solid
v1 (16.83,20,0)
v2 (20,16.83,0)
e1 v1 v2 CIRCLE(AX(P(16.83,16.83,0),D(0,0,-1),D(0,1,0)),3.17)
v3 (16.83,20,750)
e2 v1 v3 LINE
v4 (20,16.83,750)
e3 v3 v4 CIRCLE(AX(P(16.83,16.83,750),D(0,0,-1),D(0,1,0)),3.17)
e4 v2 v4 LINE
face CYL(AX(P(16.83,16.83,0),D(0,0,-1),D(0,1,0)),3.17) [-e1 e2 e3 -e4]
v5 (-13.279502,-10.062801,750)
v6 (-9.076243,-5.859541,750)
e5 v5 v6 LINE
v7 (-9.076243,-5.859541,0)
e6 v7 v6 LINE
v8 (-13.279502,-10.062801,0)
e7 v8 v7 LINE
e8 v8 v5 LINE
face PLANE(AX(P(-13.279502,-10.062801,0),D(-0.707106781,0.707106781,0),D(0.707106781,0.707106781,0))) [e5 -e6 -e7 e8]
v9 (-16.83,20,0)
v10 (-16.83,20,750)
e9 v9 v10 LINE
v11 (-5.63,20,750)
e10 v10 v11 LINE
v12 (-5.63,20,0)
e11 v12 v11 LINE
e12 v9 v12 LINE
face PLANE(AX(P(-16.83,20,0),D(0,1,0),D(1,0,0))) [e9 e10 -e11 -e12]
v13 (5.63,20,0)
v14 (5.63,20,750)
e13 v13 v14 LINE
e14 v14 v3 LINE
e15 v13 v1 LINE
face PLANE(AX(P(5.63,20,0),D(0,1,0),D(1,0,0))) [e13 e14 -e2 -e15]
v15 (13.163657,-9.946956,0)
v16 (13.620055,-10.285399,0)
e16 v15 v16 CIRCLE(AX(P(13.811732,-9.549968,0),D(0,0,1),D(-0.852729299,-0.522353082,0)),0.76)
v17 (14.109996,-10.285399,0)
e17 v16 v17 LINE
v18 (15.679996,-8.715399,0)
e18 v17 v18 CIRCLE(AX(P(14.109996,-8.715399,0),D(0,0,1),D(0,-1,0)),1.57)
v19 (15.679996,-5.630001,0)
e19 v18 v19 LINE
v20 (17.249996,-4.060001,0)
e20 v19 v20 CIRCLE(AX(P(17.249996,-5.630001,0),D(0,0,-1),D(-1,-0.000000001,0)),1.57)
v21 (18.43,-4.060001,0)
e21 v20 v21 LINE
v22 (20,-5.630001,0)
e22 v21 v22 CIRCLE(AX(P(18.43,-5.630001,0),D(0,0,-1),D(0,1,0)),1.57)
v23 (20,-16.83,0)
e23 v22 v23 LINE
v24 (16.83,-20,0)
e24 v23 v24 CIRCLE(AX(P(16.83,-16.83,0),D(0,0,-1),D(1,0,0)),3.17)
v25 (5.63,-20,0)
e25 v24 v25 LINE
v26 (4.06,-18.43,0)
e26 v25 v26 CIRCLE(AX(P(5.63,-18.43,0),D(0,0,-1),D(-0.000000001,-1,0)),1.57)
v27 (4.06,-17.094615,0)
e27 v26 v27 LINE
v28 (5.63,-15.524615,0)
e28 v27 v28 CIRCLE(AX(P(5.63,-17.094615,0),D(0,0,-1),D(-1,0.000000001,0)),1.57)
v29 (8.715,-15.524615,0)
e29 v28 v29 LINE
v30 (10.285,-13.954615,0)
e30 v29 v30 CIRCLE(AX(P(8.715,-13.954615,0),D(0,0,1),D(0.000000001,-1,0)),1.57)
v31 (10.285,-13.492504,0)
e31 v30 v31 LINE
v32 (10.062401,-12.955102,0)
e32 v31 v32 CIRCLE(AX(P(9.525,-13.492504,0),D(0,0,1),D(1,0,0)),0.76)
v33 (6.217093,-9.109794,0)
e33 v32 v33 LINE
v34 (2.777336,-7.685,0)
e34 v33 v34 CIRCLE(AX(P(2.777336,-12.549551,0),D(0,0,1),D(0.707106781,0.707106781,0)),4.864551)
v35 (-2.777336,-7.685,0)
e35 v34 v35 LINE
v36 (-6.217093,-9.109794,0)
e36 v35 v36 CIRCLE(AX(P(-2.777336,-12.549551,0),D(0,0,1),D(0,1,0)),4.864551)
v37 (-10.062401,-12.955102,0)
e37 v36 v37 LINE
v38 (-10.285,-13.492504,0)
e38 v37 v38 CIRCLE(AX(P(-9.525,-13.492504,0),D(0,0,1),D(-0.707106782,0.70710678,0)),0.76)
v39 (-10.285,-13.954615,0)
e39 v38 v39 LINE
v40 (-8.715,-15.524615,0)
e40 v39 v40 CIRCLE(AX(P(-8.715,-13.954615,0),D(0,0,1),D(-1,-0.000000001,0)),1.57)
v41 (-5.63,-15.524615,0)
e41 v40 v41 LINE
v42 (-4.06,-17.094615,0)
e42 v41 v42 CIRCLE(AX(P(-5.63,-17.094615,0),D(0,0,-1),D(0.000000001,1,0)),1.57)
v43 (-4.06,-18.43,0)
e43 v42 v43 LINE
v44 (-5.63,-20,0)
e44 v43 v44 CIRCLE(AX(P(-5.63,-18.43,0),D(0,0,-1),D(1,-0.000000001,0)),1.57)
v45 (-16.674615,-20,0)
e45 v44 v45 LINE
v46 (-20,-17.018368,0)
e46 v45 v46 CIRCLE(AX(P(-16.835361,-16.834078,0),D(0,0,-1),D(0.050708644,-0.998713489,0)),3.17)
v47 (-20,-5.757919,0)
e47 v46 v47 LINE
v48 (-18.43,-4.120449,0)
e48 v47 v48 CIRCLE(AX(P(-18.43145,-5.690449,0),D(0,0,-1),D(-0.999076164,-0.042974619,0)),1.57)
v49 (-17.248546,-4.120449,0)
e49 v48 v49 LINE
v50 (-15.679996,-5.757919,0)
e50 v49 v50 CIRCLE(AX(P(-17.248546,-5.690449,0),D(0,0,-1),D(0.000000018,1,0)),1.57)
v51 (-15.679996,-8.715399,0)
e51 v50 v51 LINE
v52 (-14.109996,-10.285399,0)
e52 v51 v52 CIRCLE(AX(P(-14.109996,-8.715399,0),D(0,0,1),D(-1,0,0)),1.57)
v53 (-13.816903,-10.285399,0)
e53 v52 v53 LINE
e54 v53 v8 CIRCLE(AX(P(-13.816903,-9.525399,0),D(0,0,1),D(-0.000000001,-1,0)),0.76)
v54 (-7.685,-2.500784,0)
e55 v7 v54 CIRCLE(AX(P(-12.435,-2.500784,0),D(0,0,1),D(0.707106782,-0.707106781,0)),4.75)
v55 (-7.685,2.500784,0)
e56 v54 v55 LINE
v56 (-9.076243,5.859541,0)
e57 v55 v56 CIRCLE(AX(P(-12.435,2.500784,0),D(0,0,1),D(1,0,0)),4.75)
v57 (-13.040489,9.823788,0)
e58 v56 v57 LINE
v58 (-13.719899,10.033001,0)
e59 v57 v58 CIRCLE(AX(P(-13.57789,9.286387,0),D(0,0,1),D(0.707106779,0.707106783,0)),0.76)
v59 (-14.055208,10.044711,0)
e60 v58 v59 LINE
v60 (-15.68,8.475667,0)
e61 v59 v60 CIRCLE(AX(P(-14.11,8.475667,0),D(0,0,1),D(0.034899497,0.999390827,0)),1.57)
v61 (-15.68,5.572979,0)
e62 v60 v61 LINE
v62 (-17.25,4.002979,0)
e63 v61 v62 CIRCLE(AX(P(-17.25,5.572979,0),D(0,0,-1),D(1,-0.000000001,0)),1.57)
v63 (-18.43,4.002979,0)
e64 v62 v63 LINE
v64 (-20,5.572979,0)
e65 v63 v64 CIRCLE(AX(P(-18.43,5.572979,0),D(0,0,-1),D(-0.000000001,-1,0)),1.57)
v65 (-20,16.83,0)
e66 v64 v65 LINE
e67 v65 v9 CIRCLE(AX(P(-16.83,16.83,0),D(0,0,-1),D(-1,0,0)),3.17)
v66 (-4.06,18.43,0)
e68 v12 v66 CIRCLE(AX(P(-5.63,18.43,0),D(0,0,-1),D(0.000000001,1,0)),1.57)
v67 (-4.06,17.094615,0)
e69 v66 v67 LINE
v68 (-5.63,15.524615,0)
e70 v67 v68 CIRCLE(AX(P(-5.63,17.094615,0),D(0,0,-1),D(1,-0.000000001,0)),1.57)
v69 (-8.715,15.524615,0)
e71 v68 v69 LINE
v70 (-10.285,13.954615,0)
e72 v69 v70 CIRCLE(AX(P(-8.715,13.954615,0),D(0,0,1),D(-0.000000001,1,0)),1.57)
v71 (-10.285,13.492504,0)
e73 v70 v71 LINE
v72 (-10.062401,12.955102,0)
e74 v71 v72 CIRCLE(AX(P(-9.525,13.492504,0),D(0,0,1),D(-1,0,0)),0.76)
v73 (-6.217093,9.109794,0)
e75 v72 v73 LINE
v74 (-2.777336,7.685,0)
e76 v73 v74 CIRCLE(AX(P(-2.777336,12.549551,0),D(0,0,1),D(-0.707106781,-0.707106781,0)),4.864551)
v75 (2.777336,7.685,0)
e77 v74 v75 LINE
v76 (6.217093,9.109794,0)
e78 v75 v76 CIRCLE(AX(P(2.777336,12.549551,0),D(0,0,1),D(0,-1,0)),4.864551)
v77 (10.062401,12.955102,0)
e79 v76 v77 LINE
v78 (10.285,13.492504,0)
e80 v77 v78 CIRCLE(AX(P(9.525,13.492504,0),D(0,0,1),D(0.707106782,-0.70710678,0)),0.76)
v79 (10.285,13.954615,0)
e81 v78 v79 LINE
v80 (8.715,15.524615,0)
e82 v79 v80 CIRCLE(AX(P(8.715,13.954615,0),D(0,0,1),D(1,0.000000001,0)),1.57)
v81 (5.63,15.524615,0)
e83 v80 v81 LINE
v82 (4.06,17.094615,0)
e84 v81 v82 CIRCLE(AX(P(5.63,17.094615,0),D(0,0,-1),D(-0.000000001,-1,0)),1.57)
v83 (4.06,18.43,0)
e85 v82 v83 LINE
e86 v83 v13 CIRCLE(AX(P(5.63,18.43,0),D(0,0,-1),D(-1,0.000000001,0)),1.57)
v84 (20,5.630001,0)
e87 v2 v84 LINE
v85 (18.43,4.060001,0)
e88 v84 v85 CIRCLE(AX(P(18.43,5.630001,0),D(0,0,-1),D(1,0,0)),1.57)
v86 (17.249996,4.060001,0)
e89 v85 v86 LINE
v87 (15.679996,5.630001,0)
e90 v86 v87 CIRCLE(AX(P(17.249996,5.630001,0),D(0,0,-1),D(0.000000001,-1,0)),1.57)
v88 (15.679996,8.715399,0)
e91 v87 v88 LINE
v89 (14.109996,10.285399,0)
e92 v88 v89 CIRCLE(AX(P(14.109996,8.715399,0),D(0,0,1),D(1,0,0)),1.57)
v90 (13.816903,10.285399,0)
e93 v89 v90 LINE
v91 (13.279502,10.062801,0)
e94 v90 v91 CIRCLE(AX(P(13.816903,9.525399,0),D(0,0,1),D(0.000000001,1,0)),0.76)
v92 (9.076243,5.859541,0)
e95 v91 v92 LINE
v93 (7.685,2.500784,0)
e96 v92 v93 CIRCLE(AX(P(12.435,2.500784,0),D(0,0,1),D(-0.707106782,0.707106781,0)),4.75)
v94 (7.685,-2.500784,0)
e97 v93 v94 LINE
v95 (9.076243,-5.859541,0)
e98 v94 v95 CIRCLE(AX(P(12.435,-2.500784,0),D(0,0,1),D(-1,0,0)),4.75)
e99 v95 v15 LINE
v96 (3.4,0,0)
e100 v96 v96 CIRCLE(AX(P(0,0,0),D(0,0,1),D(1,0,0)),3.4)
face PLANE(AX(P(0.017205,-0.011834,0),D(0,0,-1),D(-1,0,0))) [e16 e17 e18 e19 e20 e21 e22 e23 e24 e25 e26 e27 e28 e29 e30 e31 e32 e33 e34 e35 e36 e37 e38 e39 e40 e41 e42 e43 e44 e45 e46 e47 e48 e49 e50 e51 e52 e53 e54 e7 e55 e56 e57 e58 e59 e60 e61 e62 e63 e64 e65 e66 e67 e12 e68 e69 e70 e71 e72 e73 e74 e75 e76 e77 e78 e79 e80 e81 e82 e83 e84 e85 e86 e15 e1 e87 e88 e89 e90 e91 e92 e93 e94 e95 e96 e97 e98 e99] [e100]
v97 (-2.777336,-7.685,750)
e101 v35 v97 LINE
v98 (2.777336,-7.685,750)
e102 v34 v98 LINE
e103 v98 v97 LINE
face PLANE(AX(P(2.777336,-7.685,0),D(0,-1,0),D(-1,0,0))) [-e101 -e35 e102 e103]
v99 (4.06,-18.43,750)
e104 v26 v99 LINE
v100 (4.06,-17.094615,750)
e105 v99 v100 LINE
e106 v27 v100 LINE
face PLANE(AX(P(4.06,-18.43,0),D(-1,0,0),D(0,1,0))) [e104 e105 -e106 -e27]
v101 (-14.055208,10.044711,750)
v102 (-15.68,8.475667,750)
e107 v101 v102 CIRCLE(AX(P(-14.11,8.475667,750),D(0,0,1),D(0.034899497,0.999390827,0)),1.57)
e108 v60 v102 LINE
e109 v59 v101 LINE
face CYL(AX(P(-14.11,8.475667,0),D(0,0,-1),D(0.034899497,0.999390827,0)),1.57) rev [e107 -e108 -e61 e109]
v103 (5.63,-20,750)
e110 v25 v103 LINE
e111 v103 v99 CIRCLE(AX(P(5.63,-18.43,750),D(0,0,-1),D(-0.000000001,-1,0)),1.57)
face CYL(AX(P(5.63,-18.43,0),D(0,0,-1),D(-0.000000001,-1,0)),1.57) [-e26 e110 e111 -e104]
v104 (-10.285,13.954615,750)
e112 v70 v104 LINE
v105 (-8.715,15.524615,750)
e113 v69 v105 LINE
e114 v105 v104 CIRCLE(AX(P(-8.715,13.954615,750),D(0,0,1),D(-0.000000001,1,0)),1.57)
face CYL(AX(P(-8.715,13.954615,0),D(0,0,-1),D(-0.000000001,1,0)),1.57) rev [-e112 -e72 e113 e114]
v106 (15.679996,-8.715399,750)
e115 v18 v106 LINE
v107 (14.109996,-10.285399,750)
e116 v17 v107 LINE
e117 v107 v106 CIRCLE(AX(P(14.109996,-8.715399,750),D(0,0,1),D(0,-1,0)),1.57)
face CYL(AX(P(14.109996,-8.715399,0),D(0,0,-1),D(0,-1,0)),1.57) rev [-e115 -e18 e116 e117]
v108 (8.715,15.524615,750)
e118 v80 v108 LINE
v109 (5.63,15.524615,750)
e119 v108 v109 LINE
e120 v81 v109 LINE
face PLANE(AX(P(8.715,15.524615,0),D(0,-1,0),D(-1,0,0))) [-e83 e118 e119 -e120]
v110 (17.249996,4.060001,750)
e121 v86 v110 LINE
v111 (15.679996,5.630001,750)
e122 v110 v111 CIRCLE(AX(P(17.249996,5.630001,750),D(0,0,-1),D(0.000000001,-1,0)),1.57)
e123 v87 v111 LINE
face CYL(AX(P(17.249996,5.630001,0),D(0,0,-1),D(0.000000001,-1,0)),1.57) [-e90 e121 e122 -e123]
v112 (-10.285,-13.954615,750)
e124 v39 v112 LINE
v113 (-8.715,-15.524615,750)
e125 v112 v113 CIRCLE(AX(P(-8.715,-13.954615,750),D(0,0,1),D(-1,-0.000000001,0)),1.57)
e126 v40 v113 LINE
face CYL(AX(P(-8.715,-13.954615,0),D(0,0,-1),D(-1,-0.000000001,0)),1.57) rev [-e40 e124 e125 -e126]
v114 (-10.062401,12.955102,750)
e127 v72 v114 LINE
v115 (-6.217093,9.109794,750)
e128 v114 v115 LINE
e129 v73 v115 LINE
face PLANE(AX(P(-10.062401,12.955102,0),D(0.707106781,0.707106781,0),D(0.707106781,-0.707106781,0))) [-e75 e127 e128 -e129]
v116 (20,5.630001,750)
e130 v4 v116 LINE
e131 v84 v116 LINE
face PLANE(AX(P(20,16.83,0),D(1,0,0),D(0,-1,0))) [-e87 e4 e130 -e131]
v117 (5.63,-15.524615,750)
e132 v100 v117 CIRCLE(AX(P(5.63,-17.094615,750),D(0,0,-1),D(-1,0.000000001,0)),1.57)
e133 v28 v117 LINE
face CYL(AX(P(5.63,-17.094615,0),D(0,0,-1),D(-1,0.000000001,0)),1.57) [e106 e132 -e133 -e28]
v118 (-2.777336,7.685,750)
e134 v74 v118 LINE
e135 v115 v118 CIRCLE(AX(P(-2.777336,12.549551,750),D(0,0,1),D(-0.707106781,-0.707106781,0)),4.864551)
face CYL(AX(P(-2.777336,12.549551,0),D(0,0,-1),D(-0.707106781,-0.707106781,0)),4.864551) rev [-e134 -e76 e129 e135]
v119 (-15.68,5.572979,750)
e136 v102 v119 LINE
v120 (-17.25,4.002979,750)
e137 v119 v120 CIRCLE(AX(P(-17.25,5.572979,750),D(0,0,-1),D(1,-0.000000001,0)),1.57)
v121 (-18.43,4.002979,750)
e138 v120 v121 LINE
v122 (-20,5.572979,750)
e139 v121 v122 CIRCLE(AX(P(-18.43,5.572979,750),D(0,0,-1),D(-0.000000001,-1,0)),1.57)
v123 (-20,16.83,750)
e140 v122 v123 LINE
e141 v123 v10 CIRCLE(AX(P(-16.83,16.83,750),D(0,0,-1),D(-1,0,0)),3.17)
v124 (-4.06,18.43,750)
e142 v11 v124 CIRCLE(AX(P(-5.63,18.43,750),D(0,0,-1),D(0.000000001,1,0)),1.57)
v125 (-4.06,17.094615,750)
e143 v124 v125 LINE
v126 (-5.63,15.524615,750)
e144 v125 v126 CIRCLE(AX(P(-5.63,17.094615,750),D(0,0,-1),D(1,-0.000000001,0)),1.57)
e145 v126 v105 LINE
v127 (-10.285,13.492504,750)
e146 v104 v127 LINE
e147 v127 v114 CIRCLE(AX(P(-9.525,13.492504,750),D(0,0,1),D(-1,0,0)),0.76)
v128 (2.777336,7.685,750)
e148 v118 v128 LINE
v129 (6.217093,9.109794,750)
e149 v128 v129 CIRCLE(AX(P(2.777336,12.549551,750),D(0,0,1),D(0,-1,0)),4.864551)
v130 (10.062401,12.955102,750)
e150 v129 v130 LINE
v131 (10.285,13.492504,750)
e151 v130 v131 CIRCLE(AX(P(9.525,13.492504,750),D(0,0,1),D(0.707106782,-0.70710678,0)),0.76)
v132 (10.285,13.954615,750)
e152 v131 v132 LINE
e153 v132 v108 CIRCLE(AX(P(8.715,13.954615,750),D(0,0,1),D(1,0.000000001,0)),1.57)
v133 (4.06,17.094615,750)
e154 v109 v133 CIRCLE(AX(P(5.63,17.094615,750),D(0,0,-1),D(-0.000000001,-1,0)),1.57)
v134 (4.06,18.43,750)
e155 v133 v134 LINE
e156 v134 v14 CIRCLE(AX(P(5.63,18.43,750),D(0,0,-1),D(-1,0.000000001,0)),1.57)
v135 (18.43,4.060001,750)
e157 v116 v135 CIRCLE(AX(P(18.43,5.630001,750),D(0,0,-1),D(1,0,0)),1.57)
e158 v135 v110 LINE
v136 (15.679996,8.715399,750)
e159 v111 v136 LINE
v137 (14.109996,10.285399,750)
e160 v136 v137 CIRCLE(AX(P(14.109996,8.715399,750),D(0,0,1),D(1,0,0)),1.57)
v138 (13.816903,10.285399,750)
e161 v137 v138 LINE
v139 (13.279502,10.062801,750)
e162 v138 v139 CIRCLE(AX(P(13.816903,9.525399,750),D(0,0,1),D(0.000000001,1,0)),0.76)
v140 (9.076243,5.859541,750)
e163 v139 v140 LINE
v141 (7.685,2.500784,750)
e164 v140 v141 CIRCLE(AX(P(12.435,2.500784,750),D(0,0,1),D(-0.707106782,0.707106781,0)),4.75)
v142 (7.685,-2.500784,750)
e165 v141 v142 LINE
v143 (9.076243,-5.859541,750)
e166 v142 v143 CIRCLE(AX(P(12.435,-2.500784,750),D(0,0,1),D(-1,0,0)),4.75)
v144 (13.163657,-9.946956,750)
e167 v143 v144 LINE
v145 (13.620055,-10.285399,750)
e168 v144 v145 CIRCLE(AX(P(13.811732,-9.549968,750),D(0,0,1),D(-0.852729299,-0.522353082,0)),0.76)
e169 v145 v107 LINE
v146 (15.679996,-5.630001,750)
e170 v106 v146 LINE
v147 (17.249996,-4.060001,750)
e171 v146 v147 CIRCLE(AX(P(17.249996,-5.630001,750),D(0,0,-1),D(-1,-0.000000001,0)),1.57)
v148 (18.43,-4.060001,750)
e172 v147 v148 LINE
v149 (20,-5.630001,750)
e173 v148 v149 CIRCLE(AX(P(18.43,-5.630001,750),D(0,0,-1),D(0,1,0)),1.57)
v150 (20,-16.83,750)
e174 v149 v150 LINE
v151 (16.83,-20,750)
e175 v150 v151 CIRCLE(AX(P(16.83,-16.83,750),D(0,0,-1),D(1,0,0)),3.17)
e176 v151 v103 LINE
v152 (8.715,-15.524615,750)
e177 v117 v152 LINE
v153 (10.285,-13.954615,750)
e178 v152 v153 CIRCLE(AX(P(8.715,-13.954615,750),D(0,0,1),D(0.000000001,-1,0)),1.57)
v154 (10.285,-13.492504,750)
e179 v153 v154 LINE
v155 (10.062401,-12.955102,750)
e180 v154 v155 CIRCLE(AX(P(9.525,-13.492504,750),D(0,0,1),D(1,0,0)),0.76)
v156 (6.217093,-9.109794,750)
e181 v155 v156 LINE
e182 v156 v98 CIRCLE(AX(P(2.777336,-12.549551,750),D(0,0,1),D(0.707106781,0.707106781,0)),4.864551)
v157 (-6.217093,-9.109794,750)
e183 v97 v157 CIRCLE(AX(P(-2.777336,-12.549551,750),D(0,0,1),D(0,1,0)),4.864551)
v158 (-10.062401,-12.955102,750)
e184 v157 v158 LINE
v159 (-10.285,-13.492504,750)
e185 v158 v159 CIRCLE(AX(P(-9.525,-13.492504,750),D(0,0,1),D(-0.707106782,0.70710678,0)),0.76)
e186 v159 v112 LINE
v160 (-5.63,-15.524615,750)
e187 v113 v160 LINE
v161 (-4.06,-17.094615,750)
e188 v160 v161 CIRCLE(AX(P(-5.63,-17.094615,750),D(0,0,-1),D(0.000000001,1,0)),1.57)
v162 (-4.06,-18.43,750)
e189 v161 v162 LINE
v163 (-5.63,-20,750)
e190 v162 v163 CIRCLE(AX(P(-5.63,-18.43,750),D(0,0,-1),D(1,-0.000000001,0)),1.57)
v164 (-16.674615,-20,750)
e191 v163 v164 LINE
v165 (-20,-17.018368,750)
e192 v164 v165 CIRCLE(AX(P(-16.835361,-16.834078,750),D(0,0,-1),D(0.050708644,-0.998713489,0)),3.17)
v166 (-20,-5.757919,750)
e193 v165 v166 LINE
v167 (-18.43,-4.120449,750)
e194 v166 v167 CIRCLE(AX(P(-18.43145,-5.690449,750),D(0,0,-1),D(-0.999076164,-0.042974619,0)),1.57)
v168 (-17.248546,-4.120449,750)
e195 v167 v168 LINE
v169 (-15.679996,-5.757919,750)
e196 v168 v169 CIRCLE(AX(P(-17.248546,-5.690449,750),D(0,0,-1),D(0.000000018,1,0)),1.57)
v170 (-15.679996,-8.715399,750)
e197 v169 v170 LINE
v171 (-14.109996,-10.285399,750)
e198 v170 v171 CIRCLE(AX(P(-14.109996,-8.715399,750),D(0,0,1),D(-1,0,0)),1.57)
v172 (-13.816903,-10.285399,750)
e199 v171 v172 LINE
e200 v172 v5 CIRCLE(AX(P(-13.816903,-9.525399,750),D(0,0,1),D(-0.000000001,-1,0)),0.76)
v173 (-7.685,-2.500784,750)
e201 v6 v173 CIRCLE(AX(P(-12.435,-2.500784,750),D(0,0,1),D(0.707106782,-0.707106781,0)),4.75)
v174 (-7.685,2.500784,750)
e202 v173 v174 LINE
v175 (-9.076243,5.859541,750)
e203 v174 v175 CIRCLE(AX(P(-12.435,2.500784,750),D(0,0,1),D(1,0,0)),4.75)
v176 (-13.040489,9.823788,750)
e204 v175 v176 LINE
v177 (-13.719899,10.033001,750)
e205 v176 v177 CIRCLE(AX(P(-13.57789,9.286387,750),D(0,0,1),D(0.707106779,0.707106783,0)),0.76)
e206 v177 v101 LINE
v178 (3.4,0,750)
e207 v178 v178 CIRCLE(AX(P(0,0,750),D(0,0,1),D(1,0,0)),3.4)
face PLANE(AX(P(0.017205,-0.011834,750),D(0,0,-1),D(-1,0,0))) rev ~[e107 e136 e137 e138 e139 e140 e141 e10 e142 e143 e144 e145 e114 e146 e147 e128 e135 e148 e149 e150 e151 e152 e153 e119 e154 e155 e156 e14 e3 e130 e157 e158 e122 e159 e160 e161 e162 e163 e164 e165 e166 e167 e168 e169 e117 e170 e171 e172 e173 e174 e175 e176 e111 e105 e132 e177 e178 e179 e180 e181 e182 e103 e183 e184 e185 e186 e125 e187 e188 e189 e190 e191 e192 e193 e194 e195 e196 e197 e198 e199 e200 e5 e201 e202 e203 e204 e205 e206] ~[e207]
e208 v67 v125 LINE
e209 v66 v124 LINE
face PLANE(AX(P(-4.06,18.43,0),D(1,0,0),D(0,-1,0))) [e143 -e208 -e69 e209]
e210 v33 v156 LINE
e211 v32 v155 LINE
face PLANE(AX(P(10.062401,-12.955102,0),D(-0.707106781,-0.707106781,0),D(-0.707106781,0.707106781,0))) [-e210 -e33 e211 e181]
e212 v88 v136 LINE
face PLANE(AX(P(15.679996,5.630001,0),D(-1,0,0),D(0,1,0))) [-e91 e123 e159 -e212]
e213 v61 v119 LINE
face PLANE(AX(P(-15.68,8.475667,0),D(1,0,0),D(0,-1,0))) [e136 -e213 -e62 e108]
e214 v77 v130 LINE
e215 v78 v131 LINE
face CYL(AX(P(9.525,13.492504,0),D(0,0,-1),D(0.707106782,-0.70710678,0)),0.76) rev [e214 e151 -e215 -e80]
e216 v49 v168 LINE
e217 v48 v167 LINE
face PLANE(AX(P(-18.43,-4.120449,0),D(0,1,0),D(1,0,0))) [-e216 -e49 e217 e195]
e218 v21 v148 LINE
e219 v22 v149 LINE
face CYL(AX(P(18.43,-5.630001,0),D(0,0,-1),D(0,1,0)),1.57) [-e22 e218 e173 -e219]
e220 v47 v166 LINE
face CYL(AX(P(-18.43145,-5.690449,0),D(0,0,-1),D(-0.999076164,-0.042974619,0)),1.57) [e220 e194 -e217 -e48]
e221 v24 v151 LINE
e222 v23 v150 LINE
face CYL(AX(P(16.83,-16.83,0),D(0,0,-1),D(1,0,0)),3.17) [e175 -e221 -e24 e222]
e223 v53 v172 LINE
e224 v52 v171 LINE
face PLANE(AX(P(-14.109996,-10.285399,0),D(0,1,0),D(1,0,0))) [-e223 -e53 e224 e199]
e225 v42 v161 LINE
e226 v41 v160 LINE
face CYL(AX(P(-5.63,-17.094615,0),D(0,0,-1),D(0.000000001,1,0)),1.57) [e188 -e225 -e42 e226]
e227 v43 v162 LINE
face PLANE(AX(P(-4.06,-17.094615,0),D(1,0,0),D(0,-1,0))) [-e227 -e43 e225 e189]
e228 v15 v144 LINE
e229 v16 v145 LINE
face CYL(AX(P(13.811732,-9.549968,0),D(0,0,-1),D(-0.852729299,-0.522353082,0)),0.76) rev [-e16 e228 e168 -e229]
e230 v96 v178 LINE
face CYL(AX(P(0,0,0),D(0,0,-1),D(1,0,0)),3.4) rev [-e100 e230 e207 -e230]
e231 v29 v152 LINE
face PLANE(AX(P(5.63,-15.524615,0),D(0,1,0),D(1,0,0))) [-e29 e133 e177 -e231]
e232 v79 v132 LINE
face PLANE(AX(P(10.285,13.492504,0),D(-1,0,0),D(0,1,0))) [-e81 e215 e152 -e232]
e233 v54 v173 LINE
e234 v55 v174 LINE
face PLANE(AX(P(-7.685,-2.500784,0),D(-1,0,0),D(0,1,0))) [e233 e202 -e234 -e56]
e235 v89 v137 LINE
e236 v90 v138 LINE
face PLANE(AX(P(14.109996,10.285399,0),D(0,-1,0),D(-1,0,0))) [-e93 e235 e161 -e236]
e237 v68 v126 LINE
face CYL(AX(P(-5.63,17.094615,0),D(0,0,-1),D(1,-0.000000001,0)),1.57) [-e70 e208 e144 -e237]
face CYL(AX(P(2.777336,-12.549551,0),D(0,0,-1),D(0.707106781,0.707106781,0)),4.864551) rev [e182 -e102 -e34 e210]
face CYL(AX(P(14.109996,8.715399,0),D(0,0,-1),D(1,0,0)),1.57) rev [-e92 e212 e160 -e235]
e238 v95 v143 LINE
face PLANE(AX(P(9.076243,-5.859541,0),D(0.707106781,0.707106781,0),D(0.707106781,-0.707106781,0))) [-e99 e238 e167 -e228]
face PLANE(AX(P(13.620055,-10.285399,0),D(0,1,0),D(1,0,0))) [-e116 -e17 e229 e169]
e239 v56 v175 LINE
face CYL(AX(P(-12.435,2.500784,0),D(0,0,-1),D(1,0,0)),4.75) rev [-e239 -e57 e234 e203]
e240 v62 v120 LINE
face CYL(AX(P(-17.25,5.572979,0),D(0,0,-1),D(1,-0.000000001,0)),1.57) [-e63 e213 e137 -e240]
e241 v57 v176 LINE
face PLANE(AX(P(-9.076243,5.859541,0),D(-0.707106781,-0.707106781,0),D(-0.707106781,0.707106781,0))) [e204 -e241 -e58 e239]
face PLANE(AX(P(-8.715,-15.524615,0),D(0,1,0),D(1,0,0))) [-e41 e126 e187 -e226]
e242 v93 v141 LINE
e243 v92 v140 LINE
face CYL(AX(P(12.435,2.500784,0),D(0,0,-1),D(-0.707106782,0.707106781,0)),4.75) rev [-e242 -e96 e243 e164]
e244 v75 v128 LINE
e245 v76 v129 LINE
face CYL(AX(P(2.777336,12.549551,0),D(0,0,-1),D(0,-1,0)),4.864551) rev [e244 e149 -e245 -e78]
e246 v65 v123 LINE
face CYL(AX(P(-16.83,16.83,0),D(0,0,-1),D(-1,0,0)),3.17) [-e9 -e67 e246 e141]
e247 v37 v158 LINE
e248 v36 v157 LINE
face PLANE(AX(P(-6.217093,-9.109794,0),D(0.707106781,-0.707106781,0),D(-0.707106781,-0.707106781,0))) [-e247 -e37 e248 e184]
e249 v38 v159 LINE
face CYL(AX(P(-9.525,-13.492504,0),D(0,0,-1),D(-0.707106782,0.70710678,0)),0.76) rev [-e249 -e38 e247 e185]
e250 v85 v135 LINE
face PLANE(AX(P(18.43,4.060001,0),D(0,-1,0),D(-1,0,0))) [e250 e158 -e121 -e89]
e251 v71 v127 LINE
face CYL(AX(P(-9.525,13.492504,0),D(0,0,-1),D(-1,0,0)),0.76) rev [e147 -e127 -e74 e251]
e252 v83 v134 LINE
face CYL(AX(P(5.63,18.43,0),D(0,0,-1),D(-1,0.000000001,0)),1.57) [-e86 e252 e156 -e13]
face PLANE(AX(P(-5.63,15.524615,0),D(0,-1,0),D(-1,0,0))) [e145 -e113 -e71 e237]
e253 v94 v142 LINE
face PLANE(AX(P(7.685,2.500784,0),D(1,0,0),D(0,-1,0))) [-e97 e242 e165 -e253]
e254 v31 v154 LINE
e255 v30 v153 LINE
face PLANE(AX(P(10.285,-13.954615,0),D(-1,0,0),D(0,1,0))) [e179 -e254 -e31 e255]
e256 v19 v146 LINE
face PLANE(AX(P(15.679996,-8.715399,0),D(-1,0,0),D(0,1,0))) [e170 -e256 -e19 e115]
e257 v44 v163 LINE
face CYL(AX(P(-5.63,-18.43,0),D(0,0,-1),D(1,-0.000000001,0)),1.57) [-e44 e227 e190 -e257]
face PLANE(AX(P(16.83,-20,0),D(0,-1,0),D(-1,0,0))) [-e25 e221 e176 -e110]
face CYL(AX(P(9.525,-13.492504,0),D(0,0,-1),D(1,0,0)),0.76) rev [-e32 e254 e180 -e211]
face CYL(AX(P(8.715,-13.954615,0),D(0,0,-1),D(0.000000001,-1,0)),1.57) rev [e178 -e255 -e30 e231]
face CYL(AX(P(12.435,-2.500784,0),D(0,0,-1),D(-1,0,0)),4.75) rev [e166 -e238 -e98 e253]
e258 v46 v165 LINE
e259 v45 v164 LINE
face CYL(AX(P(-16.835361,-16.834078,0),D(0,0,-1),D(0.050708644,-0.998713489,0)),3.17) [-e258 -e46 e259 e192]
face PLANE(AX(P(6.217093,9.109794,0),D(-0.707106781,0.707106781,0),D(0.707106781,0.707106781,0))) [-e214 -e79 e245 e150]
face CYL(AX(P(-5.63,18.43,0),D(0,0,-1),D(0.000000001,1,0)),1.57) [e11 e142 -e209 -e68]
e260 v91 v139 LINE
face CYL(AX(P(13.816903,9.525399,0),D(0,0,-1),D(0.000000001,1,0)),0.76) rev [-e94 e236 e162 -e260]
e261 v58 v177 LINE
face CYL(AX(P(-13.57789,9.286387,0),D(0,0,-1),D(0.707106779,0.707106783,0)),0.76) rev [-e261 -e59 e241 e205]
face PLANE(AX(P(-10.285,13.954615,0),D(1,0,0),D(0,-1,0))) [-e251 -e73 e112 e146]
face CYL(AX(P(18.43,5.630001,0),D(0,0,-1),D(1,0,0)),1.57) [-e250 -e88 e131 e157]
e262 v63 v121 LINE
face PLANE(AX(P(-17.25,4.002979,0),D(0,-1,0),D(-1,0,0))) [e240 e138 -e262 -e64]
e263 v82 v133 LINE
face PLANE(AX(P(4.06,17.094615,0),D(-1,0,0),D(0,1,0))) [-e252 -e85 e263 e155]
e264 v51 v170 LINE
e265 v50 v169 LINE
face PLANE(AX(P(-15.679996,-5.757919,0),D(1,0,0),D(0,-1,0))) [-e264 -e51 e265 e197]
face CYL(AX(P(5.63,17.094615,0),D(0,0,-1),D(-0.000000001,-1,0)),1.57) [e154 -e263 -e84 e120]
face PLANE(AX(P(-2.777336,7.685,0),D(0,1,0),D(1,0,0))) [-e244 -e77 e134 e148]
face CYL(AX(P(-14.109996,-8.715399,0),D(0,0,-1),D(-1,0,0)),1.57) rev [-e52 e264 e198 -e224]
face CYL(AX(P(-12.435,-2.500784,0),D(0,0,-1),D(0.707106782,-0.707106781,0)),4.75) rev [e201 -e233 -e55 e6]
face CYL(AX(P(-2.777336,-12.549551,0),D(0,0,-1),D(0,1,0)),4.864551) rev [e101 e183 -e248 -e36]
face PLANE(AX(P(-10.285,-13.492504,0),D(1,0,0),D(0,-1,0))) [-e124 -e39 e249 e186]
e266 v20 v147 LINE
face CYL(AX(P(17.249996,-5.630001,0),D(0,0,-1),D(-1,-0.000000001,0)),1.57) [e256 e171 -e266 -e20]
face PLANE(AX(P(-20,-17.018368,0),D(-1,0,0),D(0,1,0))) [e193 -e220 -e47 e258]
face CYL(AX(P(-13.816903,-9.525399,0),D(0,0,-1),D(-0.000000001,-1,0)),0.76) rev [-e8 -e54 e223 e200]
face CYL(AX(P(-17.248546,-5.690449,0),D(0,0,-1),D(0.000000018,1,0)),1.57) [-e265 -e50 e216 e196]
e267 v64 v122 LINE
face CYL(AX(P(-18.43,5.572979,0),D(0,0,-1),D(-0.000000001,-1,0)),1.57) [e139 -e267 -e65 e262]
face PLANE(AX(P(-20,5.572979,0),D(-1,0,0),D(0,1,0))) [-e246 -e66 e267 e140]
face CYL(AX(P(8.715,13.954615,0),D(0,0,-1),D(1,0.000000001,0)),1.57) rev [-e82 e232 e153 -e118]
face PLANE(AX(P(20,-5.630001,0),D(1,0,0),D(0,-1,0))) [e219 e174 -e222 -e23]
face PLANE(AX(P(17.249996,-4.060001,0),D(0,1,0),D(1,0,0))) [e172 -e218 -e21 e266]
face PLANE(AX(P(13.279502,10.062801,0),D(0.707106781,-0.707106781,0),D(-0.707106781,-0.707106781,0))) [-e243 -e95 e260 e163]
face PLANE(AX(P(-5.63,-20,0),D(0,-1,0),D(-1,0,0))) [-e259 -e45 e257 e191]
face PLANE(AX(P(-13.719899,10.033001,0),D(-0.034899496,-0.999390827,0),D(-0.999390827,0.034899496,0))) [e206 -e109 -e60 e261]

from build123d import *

# Parameters (mm, degrees)
SKETCH1_R           = 3.4
BOSS_EXTRUDE1_DEPTH = 750


with BuildPart() as part:
    # Sketch1 → Boss-Extrude1 (new body)
    with BuildSketch(Plane.XY):
        with BuildLine():
            Line((-8.715, -15.524615034), (-5.63, -15.524615034))
            ThreePointArc((-5.63, -15.524615034), (-4.519842354, -15.984457388), (-4.06, -17.094615034))
            Line((-4.06, -17.094615034), (-4.06, -18.43))
            ThreePointArc((-4.06, -18.43), (-4.519842354, -19.540157646), (-5.63, -20))
            Line((-5.63, -20), (-16.674615034, -20))
            ThreePointArc((-16.674615034, -20), (-18.951578385, -19.194274381), (-20, -17.018368134))
            Line((-20, -17.018368134), (-20, -5.757918808))
            ThreePointArc((-20, -5.757918808), (-19.564709668, -4.603883664), (-18.43, -4.120449326))
            Line((-18.43, -4.120449326), (-17.248545805, -4.120449326))
            ThreePointArc((-17.248545805, -4.120449326), (-16.114784845, -4.604407881), (-15.67999625, -5.757919334))
            Line((-15.67999625, -5.757919334), (-15.67999625, -8.715399492))
            ThreePointArc((-15.67999625, -8.715399492), (-15.220153896, -9.825557139), (-14.10999625, -10.285399492))
            Line((-14.10999625, -10.285399492), (-13.816903094, -10.285399492))
            ThreePointArc((-13.816903094, -10.285399492), (-13.526063686, -10.227547937), (-13.279501941, -10.062800646))
            Line((-13.279501941, -10.062800646), (-9.076242789, -5.859541495))
            ThreePointArc((-9.076242789, -5.859541495), (-8.046572221, -4.318530588), (-7.685, -2.500784284))
            Line((-7.685, -2.500784284), (-7.685, 2.500784284))
            ThreePointArc((-7.685, 2.500784284), (-8.046572221, 4.318530588), (-9.076242789, 5.859541495))
            Line((-9.076242789, 5.859541495), (-13.040489136, 9.823787841))
            ThreePointArc((-13.040489136, 9.823787841), (-13.354224618, 10.012729352), (-13.71989919, 10.033001362))
            Line((-13.71989919, 10.033001362), (-14.05520779, 10.044710596))
            ThreePointArc((-14.05520779, 10.044710596), (-15.200613642, 9.605030484), (-15.68, 8.475666998))
            Line((-15.68, 8.475666998), (-15.68, 5.572979049))
            ThreePointArc((-15.68, 5.572979049), (-16.139842354, 4.462821403), (-17.25, 4.002979049))
            Line((-17.25, 4.002979049), (-18.43, 4.002979049))
            ThreePointArc((-18.43, 4.002979049), (-19.540157646, 4.462821403), (-20, 5.572979049))
            Line((-20, 5.572979049), (-20, 13.004526564))
            Line((-20, 13.004526564), (-20, 16.83))
            ThreePointArc((-20, 16.83), (-19.071528496, 19.071528496), (-16.83, 20))
            Line((-16.83, 20), (-5.63, 20))
            ThreePointArc((-5.63, 20), (-4.519842354, 19.540157646), (-4.06, 18.43))
            Line((-4.06, 18.43), (-4.06, 17.094615034))
            ThreePointArc((-4.06, 17.094615034), (-4.519842354, 15.984457388), (-5.63, 15.524615034))
            Line((-5.63, 15.524615034), (-8.715, 15.524615034))
            ThreePointArc((-8.715, 15.524615034), (-9.825157646, 15.06477268), (-10.285, 13.954615034))
            Line((-10.285, 13.954615034), (-10.285, 13.492503602))
            ThreePointArc((-10.285, 13.492503602), (-10.227148445, 13.201664194), (-10.062401154, 12.955102448))
            Line((-10.062401154, 12.955102448), (-6.217092793, 9.109794088))
            ThreePointArc((-6.217092793, 9.109794088), (-4.63891877, 8.055291919), (-2.777335583, 7.685))
            Line((-2.777335583, 7.685), (2.777335583, 7.685))
            ThreePointArc((2.777335583, 7.685), (4.63891877, 8.055291919), (6.217092793, 9.109794088))
            Line((6.217092793, 9.109794088), (10.062401154, 12.955102448))
            ThreePointArc((10.062401154, 12.955102448), (10.227148445, 13.201664194), (10.285, 13.492503602))
            Line((10.285, 13.492503602), (10.285, 13.954615034))
            ThreePointArc((10.285, 13.954615034), (9.825157646, 15.06477268), (8.715, 15.524615034))
            Line((8.715, 15.524615034), (5.63, 15.524615034))
            ThreePointArc((5.63, 15.524615034), (4.519842354, 15.984457388), (4.06, 17.094615034))
            Line((4.06, 17.094615034), (4.06, 18.43))
            ThreePointArc((4.06, 18.43), (4.519842354, 19.540157646), (5.63, 20))
            Line((5.63, 20), (12.979635074, 20))
            Line((12.979635074, 20), (16.83, 20))
            ThreePointArc((16.83, 20), (19.071528496, 19.071528496), (20, 16.83))
            Line((20, 16.83), (20, 13.001098436))
            Line((20, 13.001098436), (20, 5.630000526))
            ThreePointArc((20, 5.630000526), (19.540157646, 4.519842879), (18.43, 4.060000526))
            Line((18.43, 4.060000526), (17.24999625, 4.060000526))
            ThreePointArc((17.24999625, 4.060000526), (16.139838603, 4.519842879), (15.67999625, 5.630000526))
            Line((15.67999625, 5.630000526), (15.67999625, 8.715399492))
            ThreePointArc((15.67999625, 8.715399492), (15.220153896, 9.825557139), (14.10999625, 10.285399492))
            Line((14.10999625, 10.285399492), (13.816903094, 10.285399492))
            ThreePointArc((13.816903094, 10.285399492), (13.526063686, 10.227547937), (13.279501941, 10.062800646))
            Line((13.279501941, 10.062800646), (9.076242789, 5.859541495))
            ThreePointArc((9.076242789, 5.859541495), (8.046572221, 4.318530588), (7.685, 2.500784284))
            Line((7.685, 2.500784284), (7.685, -2.500784284))
            ThreePointArc((7.685, -2.500784284), (8.046572221, -4.318530588), (9.076242789, -5.859541495))
            Line((9.076242789, -5.859541495), (13.163657296, -9.946956002))
            ThreePointArc((13.163657296, -9.946956002), (13.35903797, -10.160433474), (13.6200547, -10.285399492))
            Line((13.6200547, -10.285399492), (14.10999625, -10.285399492))
            ThreePointArc((14.10999625, -10.285399492), (15.220153896, -9.825557139), (15.67999625, -8.715399492))
            Line((15.67999625, -8.715399492), (15.67999625, -5.630000526))
            ThreePointArc((15.67999625, -5.630000526), (16.139838603, -4.519842879), (17.24999625, -4.060000526))
            Line((17.24999625, -4.060000526), (18.43, -4.060000526))
            ThreePointArc((18.43, -4.060000526), (19.540157646, -4.519842879), (20, -5.630000526))
            Line((20, -5.630000526), (20, -16.83))
            ThreePointArc((20, -16.83), (19.071528496, -19.071528496), (16.83, -20))
            Line((16.83, -20), (13, -20))
            Line((13, -20), (5.63, -20))
            ThreePointArc((5.63, -20), (4.519842354, -19.540157646), (4.06, -18.43))
            Line((4.06, -18.43), (4.06, -17.094615034))
            ThreePointArc((4.06, -17.094615034), (4.519842354, -15.984457388), (5.63, -15.524615034))
            Line((5.63, -15.524615034), (8.715, -15.524615034))
            ThreePointArc((8.715, -15.524615034), (9.825157646, -15.06477268), (10.285, -13.954615034))
            Line((10.285, -13.954615034), (10.285, -13.492503602))
            ThreePointArc((10.285, -13.492503602), (10.227148445, -13.201664194), (10.062401154, -12.955102448))
            Line((10.062401154, -12.955102448), (6.217092793, -9.109794088))
            ThreePointArc((6.217092793, -9.109794088), (4.63891877, -8.055291919), (2.777335583, -7.685))
            Line((2.777335583, -7.685), (-2.777335583, -7.685))
            ThreePointArc((-2.777335583, -7.685), (-4.63891877, -8.055291919), (-6.217092793, -9.109794088))
            Line((-6.217092793, -9.109794088), (-10.062401154, -12.955102448))
            ThreePointArc((-10.062401154, -12.955102448), (-10.227148445, -13.201664194), (-10.285, -13.492503602))
            Line((-10.285, -13.492503602), (-10.285, -13.954615034))
            ThreePointArc((-10.285, -13.954615034), (-9.825157646, -15.06477268), (-8.715, -15.524615034))
        make_face()
        Circle(SKETCH1_R, mode=Mode.SUBTRACT)
    extrude(amount=BOSS_EXTRUDE1_DEPTH)


solid = part.part
